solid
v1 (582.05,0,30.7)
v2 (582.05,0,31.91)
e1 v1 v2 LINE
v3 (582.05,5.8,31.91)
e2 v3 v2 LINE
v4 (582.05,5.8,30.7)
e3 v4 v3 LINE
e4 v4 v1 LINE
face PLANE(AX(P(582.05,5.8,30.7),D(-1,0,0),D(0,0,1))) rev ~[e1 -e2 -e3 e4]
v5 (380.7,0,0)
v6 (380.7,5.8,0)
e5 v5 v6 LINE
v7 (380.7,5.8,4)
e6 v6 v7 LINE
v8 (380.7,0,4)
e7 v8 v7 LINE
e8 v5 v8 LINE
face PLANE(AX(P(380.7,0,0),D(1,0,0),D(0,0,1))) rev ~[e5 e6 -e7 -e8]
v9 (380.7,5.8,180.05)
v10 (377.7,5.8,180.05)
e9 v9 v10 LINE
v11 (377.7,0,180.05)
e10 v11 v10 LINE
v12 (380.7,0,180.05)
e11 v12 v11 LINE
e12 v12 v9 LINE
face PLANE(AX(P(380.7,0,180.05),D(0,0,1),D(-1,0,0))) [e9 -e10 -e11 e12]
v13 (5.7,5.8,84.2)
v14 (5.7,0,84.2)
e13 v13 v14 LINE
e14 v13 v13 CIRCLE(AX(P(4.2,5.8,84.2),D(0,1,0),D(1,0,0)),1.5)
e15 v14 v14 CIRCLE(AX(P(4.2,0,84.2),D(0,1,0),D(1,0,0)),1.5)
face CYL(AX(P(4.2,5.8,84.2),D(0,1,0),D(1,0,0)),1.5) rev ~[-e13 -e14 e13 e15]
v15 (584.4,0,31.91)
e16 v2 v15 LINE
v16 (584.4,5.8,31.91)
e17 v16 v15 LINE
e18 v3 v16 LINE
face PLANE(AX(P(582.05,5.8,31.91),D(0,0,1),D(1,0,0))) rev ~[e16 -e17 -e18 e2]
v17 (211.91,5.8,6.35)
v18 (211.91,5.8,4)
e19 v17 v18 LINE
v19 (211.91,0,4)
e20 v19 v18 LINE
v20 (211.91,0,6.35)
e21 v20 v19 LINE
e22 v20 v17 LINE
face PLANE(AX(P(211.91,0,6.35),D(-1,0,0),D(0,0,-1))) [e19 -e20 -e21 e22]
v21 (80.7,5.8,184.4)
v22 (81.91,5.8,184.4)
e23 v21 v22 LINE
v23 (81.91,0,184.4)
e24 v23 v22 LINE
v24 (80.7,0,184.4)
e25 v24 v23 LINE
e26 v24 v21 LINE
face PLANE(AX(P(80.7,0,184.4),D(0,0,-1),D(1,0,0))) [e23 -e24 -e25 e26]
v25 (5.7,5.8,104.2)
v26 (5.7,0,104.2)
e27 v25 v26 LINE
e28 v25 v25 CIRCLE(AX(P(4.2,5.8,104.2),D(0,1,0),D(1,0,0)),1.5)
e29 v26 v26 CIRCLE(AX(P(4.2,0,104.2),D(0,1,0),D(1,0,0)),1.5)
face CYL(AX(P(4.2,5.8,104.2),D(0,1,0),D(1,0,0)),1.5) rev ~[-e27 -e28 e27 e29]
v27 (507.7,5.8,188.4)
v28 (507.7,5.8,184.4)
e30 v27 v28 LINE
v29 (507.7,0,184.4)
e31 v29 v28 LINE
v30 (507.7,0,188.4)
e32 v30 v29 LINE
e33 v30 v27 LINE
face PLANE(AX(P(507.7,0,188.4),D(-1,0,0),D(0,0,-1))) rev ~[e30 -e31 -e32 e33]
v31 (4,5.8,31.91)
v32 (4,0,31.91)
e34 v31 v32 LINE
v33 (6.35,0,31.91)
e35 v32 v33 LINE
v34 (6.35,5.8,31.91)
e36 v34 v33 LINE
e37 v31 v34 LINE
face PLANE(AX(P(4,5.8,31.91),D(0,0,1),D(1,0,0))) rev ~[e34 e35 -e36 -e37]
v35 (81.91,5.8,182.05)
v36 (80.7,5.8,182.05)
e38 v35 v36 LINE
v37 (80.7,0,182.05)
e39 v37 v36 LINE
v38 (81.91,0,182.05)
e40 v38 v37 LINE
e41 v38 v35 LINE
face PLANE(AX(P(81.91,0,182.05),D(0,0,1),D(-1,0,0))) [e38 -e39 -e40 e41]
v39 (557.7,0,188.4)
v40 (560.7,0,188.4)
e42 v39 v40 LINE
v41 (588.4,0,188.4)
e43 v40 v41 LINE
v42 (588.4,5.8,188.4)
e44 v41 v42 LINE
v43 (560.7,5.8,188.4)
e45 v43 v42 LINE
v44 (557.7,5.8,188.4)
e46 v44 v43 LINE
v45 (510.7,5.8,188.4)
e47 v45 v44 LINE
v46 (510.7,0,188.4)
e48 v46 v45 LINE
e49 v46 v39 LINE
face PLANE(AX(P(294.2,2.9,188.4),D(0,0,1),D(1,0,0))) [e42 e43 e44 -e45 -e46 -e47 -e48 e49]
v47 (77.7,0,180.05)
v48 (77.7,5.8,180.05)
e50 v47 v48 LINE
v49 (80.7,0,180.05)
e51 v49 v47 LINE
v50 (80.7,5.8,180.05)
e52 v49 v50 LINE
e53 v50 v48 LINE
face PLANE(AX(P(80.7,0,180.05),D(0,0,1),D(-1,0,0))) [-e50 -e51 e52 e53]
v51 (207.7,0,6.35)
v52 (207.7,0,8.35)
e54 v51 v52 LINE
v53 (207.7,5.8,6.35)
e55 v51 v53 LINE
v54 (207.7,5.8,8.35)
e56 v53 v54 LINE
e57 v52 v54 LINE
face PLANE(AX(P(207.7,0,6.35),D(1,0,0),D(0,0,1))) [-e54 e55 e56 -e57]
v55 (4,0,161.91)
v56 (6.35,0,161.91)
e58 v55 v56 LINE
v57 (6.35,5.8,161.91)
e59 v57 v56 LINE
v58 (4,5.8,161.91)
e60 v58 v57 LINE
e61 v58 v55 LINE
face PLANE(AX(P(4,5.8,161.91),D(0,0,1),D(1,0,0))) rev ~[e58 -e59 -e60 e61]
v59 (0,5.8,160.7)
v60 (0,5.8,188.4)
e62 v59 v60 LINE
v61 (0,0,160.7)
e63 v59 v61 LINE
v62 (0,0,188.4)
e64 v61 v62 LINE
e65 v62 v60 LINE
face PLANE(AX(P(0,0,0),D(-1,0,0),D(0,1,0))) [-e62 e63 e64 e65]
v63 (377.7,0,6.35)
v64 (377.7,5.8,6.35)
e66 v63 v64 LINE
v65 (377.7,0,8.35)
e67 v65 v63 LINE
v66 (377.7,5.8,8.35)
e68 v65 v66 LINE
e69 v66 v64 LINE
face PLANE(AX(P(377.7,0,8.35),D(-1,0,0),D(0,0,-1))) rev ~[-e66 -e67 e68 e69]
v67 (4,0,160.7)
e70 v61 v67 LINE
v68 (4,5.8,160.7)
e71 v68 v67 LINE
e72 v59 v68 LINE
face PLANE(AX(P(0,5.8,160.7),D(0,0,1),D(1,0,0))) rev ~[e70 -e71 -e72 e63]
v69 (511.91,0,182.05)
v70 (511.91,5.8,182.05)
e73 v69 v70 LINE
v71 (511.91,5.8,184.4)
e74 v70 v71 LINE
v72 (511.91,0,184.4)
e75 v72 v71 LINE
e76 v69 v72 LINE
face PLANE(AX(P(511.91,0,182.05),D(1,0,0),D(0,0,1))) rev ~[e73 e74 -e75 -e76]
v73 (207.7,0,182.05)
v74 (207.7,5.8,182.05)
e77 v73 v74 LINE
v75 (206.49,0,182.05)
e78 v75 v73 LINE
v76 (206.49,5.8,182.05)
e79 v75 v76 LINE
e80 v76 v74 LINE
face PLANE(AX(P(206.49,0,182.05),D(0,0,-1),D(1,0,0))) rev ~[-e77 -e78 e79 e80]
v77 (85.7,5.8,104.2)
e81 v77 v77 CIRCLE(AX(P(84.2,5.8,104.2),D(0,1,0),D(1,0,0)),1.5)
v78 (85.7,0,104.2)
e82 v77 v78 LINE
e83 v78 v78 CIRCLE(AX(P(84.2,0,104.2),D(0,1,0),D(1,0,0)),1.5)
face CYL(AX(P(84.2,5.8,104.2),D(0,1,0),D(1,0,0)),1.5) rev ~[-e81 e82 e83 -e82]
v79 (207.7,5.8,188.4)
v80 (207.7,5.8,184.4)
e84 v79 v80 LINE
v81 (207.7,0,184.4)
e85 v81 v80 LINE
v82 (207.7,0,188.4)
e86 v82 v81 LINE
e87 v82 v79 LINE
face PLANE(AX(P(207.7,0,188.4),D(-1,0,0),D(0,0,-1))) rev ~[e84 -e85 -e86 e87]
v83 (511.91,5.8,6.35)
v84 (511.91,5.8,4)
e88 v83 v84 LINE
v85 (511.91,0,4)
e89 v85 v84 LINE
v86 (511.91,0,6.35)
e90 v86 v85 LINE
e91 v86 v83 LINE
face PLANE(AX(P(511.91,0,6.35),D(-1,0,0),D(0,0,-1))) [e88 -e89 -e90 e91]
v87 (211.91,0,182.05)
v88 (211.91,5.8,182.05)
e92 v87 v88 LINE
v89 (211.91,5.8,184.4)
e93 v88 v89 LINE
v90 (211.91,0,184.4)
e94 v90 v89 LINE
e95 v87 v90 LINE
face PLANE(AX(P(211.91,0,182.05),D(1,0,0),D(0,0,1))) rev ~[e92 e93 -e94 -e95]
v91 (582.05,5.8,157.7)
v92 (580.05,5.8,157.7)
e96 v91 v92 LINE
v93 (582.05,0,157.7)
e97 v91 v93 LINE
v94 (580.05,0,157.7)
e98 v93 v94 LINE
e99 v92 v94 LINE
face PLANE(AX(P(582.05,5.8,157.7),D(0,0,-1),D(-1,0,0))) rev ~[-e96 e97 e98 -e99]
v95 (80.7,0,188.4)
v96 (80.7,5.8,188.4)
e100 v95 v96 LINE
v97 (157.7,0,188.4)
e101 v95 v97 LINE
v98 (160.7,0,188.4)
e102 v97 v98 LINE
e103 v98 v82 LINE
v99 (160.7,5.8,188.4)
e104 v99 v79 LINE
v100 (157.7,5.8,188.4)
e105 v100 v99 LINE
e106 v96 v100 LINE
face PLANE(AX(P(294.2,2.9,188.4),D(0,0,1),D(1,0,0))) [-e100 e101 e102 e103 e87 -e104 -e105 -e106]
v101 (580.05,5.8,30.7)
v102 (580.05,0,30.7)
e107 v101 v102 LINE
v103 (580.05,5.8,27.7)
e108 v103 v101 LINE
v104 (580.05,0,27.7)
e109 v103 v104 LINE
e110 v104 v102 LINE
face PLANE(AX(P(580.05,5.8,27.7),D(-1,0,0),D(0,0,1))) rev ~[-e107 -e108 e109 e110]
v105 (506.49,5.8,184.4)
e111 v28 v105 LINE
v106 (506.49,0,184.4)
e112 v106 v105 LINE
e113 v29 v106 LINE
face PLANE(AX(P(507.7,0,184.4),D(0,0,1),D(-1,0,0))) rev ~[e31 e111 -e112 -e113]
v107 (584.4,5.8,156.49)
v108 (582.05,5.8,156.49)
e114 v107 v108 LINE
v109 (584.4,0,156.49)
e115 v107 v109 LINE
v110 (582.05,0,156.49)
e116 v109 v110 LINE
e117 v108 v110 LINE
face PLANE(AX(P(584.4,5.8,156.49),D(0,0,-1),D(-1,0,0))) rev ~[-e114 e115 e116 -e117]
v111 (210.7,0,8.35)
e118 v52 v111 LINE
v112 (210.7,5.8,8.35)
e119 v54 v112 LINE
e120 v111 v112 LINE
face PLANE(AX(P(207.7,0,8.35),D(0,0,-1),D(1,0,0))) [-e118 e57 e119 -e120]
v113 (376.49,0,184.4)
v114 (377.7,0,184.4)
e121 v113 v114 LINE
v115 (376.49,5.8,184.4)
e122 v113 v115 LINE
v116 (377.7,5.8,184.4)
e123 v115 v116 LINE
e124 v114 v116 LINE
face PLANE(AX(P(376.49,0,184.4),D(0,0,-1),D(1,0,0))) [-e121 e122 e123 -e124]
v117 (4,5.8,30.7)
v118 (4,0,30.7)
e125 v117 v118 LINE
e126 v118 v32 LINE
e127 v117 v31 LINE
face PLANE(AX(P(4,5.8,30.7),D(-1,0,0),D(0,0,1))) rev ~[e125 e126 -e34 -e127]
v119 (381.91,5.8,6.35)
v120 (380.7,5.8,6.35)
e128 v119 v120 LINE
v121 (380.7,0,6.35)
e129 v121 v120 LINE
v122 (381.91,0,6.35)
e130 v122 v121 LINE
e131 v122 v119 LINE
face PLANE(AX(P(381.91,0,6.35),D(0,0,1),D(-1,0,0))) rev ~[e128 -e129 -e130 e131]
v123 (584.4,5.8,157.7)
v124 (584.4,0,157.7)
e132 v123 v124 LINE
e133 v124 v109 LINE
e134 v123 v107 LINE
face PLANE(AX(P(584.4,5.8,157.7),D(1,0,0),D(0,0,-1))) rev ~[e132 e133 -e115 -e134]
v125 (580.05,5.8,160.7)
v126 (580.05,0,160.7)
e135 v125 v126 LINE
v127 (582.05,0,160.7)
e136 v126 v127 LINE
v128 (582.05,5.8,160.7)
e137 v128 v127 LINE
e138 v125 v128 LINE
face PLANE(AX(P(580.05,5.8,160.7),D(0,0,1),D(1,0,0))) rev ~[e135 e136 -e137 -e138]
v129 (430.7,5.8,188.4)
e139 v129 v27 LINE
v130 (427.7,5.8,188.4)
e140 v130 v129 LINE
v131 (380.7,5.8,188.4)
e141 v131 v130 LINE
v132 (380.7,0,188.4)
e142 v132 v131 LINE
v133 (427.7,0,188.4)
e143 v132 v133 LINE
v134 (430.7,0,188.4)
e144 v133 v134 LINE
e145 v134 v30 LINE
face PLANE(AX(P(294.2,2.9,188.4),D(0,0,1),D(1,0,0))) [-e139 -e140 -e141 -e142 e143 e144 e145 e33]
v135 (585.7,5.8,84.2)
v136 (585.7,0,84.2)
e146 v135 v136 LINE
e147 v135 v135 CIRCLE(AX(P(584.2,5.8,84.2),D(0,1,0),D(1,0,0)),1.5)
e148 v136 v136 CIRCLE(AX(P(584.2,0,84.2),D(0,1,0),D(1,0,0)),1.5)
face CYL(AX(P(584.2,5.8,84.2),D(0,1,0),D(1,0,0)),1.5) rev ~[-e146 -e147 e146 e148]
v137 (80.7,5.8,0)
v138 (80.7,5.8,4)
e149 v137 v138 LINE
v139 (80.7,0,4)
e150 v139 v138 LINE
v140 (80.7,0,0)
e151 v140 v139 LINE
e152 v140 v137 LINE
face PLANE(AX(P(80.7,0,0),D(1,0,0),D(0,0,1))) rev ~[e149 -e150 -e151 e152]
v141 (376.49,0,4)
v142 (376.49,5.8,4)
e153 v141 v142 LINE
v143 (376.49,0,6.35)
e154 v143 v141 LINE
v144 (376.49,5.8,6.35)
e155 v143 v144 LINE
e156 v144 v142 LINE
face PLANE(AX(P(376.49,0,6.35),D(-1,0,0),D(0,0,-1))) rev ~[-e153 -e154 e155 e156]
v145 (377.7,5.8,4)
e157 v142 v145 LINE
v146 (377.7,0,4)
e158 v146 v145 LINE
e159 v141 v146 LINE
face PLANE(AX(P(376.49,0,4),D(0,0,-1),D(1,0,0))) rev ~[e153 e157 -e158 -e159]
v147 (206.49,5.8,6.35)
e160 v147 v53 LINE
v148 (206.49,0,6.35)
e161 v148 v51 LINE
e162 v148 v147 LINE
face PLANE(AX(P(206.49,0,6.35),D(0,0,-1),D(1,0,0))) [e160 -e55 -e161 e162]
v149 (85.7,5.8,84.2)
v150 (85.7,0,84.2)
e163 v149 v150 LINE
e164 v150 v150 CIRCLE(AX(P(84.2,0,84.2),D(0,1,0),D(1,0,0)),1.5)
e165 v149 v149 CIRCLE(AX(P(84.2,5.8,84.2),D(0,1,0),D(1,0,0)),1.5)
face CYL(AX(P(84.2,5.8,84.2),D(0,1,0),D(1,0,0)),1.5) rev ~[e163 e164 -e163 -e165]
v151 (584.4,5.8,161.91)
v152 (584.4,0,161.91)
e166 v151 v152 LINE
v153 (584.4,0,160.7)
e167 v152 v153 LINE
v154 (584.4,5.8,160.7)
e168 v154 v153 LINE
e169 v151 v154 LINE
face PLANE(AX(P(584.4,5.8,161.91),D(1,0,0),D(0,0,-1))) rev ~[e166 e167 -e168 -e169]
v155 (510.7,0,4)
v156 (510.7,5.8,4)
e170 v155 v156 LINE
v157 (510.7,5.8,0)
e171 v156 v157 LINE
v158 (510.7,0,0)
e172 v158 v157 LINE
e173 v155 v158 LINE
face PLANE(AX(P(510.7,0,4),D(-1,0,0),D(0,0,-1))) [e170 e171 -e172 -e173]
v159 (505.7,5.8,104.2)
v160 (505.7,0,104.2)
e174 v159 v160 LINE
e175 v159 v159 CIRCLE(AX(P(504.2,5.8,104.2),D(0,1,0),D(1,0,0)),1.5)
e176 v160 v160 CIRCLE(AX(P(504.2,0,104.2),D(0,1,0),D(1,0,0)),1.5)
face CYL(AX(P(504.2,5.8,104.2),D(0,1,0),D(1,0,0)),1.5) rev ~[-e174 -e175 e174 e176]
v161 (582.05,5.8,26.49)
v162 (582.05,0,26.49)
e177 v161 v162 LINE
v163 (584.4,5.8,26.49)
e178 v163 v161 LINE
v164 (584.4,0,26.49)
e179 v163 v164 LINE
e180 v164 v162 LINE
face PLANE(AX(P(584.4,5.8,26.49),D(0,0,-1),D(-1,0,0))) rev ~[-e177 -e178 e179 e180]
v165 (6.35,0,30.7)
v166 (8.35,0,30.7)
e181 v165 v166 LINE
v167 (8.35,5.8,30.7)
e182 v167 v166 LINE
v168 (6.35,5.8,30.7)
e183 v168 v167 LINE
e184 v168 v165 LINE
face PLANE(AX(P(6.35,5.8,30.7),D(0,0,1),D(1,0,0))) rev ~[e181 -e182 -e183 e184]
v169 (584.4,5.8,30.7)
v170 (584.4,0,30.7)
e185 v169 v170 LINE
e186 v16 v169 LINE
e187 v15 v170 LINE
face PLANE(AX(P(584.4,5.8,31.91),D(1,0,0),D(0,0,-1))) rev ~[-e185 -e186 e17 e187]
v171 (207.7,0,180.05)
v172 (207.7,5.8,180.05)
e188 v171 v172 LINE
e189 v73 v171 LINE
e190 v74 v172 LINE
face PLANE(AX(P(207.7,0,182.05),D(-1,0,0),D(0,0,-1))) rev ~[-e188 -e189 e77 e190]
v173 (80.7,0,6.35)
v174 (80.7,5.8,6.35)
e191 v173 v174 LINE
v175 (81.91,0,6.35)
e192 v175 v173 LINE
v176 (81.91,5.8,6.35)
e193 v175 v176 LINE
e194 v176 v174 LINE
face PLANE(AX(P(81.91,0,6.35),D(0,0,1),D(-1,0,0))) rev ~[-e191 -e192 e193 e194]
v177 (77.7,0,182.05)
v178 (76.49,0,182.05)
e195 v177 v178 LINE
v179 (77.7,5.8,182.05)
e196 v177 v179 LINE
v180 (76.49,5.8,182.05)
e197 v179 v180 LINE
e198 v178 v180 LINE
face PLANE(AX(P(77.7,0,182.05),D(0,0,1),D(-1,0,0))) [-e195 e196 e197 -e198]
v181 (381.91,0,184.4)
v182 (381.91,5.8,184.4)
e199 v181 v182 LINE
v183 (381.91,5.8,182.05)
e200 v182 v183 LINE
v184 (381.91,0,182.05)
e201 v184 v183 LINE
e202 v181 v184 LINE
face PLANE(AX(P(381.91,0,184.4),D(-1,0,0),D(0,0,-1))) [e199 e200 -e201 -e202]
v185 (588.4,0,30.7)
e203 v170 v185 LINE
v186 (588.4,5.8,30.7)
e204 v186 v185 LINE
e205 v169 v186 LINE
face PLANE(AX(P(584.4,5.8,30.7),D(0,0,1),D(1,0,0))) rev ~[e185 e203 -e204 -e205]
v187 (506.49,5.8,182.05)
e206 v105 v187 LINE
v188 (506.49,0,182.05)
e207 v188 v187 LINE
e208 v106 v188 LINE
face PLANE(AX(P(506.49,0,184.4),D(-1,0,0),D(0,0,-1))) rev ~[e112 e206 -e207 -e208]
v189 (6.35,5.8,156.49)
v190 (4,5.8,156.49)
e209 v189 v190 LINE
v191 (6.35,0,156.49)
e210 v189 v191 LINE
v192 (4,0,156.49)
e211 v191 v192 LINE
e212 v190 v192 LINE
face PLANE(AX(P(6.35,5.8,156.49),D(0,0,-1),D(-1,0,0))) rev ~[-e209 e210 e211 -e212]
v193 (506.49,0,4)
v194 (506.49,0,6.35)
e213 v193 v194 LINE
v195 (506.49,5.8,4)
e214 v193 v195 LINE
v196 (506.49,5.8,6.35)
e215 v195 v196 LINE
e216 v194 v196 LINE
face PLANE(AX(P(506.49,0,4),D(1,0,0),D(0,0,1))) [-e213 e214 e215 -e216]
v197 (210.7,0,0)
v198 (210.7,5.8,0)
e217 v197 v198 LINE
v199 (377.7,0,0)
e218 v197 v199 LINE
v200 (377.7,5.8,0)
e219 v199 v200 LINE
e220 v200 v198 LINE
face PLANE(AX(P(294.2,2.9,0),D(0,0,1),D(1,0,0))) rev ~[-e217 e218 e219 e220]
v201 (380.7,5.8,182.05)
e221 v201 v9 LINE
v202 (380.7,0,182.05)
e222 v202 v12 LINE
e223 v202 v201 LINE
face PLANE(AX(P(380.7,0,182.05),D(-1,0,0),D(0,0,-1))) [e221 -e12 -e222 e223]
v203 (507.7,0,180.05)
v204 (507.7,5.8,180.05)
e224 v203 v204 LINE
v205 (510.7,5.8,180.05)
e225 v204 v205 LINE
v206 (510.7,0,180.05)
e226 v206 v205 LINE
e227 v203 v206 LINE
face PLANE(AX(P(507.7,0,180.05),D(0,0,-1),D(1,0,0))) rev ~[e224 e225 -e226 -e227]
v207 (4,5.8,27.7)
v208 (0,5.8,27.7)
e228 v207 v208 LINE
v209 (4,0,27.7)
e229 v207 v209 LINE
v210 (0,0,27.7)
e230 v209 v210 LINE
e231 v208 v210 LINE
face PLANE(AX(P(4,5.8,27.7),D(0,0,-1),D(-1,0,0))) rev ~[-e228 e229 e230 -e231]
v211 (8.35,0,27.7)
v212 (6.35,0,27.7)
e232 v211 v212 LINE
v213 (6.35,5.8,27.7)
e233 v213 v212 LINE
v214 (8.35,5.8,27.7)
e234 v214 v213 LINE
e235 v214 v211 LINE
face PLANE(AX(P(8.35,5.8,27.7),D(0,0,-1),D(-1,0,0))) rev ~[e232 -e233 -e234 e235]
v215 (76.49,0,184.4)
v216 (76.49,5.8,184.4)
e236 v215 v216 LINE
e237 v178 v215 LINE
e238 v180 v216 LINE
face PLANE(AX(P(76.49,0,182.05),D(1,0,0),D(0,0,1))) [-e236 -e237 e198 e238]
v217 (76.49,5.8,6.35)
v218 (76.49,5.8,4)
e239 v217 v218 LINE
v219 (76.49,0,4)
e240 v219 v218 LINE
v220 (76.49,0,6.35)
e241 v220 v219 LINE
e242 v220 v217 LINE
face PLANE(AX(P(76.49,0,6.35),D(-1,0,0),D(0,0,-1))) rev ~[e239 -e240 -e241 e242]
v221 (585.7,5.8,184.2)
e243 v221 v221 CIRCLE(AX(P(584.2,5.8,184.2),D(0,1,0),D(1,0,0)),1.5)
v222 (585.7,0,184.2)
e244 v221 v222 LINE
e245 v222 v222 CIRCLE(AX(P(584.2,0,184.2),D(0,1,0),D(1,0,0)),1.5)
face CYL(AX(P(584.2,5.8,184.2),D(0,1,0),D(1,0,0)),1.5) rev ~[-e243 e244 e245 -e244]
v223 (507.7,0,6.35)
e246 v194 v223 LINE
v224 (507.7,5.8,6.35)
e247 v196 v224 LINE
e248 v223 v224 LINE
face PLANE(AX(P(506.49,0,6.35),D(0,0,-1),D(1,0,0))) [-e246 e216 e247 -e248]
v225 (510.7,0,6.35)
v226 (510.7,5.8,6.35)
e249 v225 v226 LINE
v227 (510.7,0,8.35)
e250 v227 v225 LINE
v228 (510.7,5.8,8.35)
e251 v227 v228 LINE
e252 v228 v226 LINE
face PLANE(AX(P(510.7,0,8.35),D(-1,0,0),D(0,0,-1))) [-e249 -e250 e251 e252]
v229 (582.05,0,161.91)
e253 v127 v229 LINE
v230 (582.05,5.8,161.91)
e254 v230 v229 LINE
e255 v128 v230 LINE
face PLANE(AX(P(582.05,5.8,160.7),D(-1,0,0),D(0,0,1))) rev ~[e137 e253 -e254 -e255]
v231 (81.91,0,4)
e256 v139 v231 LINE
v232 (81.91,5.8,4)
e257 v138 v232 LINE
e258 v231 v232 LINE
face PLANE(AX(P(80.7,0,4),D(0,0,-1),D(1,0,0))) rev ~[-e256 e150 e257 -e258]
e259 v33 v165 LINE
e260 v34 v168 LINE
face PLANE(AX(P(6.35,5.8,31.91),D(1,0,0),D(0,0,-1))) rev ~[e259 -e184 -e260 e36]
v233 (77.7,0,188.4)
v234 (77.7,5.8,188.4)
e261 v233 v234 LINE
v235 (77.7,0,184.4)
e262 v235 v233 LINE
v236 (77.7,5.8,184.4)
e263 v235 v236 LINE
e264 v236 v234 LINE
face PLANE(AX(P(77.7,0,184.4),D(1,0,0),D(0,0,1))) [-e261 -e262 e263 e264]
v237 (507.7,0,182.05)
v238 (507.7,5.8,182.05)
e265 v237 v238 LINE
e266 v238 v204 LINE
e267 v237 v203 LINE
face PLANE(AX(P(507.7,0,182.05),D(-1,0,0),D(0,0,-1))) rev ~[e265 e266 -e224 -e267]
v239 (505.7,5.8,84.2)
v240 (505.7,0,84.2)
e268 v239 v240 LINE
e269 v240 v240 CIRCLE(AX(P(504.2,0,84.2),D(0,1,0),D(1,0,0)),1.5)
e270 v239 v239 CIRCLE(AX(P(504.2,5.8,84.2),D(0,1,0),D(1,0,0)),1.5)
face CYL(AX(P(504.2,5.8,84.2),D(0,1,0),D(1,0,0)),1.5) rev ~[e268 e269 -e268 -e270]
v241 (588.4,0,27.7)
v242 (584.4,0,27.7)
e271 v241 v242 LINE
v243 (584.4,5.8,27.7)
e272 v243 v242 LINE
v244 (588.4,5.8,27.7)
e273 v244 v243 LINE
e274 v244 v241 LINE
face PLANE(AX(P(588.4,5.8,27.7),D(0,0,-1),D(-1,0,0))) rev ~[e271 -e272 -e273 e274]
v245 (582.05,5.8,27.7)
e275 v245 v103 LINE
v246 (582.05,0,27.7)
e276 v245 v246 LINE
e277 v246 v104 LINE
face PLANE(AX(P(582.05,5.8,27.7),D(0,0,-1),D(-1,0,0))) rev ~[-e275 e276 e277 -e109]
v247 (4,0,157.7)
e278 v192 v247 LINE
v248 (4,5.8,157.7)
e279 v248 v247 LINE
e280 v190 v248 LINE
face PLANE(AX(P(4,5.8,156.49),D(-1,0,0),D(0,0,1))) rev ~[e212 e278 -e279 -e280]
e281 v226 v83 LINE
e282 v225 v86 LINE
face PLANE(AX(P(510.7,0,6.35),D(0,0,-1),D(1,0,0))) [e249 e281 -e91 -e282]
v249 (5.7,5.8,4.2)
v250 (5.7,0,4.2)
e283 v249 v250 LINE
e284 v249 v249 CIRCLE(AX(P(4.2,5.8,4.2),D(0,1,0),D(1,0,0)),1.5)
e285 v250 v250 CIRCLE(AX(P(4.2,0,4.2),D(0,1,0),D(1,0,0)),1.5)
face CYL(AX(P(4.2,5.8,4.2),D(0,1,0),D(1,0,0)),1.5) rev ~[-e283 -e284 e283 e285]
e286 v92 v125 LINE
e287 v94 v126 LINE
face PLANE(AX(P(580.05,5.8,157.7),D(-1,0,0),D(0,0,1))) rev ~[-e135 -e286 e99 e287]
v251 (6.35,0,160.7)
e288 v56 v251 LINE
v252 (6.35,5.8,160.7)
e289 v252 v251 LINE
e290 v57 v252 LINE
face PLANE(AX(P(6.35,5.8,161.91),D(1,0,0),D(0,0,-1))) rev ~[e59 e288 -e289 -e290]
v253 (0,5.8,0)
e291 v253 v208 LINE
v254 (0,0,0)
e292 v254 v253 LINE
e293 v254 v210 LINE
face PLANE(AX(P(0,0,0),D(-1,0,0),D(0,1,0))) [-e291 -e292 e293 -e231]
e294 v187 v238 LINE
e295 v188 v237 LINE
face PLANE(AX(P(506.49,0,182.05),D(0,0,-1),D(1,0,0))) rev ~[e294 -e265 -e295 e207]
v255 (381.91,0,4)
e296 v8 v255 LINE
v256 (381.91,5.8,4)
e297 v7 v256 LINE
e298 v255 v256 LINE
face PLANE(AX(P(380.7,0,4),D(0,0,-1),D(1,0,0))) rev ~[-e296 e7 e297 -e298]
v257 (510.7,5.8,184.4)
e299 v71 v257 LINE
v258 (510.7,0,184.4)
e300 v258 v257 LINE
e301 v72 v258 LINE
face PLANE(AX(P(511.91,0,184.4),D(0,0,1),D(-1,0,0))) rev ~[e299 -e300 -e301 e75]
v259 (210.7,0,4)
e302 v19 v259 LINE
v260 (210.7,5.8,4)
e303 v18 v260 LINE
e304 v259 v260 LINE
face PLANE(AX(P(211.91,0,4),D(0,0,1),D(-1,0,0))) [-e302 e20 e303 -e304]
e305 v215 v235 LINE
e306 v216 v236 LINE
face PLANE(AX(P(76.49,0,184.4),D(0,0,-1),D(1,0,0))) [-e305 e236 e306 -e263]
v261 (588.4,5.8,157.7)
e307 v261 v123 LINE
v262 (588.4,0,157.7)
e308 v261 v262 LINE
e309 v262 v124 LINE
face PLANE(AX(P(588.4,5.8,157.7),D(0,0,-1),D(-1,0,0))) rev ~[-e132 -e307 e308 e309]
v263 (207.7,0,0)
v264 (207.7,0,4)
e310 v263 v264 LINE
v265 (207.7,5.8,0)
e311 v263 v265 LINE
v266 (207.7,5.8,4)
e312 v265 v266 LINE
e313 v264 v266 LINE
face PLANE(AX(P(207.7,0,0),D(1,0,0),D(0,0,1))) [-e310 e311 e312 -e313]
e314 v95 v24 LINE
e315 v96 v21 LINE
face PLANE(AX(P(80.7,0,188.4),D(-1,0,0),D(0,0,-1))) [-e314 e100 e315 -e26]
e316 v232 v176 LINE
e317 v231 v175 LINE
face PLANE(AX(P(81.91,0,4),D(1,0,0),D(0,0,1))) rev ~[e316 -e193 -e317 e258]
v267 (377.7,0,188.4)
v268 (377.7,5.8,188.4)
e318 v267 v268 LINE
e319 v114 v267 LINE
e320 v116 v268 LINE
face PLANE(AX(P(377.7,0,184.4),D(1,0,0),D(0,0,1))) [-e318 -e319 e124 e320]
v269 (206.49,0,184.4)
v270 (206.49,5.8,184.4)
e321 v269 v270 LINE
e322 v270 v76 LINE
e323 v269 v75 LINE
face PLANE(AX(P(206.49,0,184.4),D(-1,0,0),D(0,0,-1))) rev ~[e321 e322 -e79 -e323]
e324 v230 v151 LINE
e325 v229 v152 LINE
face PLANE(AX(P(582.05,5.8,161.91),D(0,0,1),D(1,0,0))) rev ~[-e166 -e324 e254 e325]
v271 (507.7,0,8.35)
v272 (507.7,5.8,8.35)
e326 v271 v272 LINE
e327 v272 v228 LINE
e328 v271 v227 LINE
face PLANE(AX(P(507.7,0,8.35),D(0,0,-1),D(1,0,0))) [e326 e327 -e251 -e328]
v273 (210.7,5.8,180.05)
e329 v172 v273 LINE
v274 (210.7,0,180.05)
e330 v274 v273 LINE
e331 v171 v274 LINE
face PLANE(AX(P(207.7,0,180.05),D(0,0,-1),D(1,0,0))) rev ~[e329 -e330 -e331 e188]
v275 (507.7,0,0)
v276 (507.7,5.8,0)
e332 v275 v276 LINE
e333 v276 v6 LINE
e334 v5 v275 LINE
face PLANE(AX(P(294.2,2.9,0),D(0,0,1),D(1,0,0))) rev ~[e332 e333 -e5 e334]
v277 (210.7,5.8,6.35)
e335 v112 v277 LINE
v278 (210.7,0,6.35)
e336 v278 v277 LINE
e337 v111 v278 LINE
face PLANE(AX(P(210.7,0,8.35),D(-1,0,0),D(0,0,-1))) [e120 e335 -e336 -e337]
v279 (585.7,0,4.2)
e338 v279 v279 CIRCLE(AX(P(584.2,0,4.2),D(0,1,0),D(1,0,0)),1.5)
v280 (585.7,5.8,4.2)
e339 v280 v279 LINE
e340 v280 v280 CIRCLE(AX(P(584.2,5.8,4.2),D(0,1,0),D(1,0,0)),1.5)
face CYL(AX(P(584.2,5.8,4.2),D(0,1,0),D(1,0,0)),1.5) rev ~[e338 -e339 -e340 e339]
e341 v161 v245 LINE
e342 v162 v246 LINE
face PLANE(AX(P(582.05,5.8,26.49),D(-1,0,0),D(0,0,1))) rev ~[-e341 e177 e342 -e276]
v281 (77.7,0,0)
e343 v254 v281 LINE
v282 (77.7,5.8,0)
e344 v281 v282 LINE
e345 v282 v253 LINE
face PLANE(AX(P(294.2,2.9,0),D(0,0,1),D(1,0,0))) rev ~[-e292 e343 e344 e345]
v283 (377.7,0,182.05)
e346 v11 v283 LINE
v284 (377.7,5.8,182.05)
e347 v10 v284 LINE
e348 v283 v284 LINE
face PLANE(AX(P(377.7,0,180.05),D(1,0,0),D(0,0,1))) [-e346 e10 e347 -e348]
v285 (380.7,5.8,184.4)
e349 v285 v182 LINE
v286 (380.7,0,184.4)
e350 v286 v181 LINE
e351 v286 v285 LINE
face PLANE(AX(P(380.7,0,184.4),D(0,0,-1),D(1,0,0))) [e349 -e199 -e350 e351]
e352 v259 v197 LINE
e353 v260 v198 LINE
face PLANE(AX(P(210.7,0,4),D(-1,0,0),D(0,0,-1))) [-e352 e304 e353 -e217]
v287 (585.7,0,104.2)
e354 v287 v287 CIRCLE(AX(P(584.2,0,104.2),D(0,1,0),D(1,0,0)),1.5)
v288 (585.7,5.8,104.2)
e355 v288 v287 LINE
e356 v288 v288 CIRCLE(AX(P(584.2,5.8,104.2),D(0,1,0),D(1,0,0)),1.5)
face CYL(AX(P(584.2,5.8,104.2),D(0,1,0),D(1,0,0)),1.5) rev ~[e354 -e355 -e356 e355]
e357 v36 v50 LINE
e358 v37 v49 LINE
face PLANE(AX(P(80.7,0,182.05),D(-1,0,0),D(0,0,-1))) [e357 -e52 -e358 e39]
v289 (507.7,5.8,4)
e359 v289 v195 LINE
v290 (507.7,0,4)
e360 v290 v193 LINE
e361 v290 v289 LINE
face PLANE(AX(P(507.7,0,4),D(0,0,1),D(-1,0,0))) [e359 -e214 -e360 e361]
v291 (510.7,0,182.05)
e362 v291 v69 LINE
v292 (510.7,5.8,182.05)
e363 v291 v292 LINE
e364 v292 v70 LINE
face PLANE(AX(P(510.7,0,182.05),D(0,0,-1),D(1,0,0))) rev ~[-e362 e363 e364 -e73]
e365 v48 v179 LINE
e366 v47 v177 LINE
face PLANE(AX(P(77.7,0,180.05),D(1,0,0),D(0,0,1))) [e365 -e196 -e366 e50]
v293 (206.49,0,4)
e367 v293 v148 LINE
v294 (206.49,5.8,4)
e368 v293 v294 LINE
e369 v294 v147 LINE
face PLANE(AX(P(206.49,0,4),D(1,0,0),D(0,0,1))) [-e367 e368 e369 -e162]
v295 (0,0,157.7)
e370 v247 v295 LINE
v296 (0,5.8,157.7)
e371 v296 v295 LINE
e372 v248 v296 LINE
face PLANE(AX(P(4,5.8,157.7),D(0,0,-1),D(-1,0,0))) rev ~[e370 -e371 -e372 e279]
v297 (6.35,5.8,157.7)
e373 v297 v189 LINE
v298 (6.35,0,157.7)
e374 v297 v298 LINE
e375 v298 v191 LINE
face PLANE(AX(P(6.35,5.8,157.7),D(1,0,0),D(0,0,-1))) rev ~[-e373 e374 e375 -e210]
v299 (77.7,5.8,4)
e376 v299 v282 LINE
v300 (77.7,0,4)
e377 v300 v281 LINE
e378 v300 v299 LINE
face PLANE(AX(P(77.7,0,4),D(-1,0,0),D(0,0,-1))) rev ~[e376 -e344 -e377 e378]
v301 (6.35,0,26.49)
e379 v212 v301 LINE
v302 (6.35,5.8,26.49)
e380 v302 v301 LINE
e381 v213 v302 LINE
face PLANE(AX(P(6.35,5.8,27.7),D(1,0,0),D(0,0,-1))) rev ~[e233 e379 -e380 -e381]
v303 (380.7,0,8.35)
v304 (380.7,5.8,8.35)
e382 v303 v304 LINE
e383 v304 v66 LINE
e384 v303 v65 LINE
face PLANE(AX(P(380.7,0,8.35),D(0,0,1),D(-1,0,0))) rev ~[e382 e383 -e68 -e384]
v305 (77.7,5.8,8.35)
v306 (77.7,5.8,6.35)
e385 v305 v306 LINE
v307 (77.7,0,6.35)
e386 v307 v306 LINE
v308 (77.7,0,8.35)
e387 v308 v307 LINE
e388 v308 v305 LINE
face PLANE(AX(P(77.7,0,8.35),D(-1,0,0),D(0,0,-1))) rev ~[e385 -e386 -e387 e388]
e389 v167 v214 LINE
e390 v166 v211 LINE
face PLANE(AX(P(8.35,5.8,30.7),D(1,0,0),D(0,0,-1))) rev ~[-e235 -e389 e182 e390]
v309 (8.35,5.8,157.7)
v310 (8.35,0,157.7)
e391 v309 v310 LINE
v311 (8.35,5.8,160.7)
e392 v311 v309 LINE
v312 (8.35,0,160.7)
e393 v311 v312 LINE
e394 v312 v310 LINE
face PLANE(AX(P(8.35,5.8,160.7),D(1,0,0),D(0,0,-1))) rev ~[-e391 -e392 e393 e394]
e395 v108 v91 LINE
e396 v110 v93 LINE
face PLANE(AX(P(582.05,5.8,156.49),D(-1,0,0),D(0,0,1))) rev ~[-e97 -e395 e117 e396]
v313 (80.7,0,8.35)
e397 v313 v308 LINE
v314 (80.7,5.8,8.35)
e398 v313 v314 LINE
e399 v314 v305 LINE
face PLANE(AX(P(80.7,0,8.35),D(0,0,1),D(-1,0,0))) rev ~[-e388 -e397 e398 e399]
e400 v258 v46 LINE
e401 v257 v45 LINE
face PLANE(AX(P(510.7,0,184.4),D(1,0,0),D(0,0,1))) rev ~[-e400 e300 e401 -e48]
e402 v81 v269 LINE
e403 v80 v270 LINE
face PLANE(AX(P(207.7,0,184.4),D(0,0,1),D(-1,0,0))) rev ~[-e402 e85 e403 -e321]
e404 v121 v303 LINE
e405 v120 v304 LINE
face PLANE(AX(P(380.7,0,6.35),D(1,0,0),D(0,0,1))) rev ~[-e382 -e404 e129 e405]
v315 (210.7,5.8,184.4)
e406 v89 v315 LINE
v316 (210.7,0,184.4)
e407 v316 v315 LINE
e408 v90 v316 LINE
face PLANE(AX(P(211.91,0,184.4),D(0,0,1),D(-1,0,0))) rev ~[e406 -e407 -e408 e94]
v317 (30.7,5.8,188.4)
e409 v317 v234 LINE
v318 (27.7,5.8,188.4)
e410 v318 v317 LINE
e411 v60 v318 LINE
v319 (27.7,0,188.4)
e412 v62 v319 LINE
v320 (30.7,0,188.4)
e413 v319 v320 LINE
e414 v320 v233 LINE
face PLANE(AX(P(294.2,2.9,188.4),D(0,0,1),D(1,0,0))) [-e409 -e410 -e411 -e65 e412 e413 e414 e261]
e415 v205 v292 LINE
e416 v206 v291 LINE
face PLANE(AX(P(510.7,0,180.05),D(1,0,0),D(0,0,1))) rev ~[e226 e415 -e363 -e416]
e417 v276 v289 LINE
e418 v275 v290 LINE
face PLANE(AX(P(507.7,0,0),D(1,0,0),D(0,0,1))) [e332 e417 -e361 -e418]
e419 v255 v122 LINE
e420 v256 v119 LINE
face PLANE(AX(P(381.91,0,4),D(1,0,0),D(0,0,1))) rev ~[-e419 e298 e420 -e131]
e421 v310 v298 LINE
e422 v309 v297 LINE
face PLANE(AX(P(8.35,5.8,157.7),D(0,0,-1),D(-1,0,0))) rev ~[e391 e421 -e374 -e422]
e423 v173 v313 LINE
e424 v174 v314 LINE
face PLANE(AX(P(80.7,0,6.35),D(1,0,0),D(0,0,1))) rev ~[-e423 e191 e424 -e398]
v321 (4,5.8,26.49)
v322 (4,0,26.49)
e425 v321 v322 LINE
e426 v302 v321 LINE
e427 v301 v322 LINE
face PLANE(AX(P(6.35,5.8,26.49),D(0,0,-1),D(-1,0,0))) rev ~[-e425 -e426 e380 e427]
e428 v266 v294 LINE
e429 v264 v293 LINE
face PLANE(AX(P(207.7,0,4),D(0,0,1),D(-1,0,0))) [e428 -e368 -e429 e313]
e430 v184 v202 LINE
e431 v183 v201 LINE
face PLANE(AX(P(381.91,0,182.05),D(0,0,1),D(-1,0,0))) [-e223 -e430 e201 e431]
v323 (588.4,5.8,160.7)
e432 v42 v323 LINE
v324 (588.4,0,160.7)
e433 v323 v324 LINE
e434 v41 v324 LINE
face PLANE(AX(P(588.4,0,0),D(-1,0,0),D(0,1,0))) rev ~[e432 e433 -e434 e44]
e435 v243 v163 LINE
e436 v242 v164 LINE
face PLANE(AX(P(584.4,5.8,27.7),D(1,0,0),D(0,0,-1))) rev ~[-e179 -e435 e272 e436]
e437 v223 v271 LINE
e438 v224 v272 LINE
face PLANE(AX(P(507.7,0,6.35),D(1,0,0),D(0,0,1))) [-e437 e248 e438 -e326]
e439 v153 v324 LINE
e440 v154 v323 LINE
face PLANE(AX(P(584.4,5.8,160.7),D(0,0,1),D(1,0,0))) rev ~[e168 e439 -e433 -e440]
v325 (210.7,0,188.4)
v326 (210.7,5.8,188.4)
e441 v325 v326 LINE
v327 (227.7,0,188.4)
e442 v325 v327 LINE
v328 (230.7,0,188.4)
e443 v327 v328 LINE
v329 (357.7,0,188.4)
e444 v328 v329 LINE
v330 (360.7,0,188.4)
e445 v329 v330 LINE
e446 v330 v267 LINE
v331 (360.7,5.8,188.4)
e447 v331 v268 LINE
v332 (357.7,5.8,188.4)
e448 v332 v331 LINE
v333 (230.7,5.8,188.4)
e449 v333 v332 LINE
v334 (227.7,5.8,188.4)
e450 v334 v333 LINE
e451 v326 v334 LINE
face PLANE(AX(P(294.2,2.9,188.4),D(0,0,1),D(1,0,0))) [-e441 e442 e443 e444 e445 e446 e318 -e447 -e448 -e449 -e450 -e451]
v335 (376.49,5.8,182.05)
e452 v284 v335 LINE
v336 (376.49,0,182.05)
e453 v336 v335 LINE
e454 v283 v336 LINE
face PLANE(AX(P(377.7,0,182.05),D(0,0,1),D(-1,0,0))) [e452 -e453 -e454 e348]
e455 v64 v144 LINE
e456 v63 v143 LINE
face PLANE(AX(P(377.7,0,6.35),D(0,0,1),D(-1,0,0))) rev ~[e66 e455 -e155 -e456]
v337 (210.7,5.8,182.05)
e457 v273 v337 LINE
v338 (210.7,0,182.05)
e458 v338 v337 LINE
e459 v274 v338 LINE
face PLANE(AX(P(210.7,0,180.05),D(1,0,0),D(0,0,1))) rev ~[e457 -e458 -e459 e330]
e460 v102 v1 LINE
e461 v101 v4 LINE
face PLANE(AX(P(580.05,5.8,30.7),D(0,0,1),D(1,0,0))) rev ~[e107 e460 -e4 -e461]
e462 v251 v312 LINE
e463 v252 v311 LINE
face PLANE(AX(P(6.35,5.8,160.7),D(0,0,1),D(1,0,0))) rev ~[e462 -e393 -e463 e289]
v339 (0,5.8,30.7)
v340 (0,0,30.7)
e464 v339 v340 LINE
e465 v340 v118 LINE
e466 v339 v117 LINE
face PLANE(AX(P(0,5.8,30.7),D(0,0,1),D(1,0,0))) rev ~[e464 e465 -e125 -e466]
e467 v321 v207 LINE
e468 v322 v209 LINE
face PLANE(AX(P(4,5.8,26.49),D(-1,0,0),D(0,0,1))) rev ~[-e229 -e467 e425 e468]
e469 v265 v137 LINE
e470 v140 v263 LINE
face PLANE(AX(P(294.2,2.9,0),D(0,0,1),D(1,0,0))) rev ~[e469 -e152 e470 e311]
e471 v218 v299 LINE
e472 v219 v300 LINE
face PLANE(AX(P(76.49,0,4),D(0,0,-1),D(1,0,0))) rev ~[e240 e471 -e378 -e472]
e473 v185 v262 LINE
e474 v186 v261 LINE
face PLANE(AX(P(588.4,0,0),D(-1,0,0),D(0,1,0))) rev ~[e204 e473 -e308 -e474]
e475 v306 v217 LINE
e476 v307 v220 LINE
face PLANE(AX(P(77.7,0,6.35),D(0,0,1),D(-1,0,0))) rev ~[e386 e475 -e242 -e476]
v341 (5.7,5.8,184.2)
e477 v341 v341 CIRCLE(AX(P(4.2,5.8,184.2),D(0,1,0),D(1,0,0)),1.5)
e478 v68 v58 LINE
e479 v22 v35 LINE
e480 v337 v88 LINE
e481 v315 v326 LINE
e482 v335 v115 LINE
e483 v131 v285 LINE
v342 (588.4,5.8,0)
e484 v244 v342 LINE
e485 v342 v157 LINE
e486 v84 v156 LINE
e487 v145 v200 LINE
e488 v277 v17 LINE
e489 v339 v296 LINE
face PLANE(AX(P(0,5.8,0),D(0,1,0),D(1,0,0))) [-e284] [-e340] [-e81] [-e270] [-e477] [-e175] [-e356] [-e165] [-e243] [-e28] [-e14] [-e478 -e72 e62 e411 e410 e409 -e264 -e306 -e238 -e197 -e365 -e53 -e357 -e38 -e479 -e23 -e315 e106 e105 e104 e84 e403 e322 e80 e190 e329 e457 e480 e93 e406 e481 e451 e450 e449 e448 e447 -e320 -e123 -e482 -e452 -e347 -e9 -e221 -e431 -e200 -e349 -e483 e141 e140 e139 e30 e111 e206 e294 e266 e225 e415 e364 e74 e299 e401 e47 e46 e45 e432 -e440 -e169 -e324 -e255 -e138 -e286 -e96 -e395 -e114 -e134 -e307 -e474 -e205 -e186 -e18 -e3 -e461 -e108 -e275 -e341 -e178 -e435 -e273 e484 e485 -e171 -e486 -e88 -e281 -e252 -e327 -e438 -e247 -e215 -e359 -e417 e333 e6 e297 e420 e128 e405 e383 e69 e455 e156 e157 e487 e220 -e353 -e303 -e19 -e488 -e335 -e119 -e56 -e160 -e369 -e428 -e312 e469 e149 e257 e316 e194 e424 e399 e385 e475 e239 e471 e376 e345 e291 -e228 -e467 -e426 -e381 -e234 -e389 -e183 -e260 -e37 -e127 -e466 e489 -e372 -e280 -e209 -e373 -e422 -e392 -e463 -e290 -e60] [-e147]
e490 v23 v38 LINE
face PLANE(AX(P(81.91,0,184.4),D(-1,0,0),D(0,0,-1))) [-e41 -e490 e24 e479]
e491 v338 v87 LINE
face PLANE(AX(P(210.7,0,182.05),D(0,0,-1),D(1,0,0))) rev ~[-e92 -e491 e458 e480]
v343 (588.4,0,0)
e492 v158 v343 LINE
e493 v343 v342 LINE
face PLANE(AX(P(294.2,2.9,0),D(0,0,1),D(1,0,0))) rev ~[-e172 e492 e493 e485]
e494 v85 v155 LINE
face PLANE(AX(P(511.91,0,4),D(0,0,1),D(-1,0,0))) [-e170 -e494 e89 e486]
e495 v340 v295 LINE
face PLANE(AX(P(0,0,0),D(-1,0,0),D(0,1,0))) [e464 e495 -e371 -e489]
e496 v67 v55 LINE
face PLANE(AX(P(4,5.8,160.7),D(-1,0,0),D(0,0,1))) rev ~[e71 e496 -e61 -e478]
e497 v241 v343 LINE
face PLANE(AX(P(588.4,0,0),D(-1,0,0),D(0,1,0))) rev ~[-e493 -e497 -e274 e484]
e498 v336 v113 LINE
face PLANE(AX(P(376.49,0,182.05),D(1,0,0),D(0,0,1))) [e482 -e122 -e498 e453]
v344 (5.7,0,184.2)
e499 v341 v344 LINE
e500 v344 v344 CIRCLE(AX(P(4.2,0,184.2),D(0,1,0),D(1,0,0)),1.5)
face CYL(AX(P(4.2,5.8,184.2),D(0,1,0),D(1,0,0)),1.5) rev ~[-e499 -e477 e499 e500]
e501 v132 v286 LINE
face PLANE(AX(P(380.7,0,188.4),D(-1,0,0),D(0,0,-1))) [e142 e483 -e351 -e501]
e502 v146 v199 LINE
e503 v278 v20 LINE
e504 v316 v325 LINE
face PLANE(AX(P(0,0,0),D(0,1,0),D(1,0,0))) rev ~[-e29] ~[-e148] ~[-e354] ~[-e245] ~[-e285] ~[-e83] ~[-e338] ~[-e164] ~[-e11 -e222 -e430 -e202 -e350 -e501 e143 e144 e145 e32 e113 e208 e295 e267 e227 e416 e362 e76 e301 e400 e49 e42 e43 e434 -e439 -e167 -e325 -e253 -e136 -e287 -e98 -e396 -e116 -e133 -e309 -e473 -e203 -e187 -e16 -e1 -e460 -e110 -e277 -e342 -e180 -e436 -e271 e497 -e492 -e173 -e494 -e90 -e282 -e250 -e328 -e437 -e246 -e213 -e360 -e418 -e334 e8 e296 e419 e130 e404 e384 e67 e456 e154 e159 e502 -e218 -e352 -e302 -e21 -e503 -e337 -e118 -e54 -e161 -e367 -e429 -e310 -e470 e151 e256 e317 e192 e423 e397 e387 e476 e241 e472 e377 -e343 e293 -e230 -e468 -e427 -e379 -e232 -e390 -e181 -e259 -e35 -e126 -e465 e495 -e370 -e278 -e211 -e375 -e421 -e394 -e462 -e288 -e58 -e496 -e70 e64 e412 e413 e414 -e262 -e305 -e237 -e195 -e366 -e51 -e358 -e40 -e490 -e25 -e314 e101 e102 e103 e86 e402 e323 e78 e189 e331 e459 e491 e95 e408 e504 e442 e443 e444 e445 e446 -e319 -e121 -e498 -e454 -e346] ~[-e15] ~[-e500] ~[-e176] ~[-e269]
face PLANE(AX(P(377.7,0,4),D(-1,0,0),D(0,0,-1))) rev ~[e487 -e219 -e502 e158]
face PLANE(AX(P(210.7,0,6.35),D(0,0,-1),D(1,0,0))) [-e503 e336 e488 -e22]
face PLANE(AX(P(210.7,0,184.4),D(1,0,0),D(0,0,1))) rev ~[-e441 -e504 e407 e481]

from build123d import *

# Parameters (mm, degrees)
SKETCH1_W           = 588.4
SKETCH1_H           = 5.8
BOSS_EXTRUDE1_DEPTH = 188.4
CUT_EXTRUDE1_DEPTH  = 5.8
CUT_EXTRUDE2_DEPTH  = 5.8
SKETCH5_W           = 588.4
SKETCH5_H           = 10.208859739
SKETCH5_H_2         = 13.85
BOSS_EXTRUDE2_DEPTH = 5.8
CUT_EXTRUDE4_DEPTH  = 5.8
SKETCH8_R           = 1.5
CUT_EXTRUDE6_DEPTH  = 5.8


with BuildPart() as part:
    # Sketch1 → Boss-Extrude1 (new body)
    with BuildSketch(Plane.XY):
        with Locations((294.2, 2.9)):
            Rectangle(SKETCH1_W, SKETCH1_H)
    extrude(amount=BOSS_EXTRUDE1_DEPTH)

    # Sketch2 → Cut-Extrude1 (cut)
    with BuildSketch(Plane(origin=(0, 5.8, 0), x_dir=(1, 0, 0), z_dir=(0, 1, 0))):
        Polygon((27.7, -184.4), (27.7, -188.4), (30.7, -188.4), (30.7, -184.4), (31.91, -184.4), (31.91, -182.05), (30.7, -182.05), (30.7, -180.05), (27.7, -180.05), (27.7, -182.05), (26.49, -182.05), (26.49, -184.4), align=None)
        Polygon((157.7, -184.4), (157.7, -188.4), (160.7, -188.4), (160.7, -184.4), (161.91, -184.4), (161.91, -182.05), (160.7, -182.05), (160.7, -180.05), (157.7, -180.05), (157.7, -182.05), (156.49, -182.05), (156.49, -184.4), align=None)
        Polygon((227.7, -184.4), (227.7, -188.4), (230.7, -188.4), (230.7, -184.4), (231.91, -184.4), (231.91, -182.05), (230.7, -182.05), (230.7, -180.05), (227.7, -180.05), (227.7, -182.05), (226.49, -182.05), (226.49, -184.4), align=None)
        Polygon((357.7, -184.4), (357.7, -188.4), (360.7, -188.4), (360.7, -184.4), (361.91, -184.4), (361.91, -182.05), (360.7, -182.05), (360.7, -180.05), (357.7, -180.05), (357.7, -182.05), (356.49, -182.05), (356.49, -184.4), align=None)
        Polygon((427.7, -184.4), (427.7, -188.4), (430.7, -188.4), (430.7, -184.4), (431.91, -184.4), (431.91, -182.05), (430.7, -182.05), (430.7, -180.05), (427.7, -180.05), (427.7, -182.05), (426.49, -182.05), (426.49, -184.4), align=None)
        Polygon((557.7, -188.4), (560.7, -188.4), (560.7, -184.4), (561.91, -184.4), (561.91, -182.05), (560.7, -182.05), (560.7, -180.05), (557.7, -180.05), (557.7, -182.05), (556.49, -182.05), (556.49, -184.4), (557.7, -184.4), align=None)
        Polygon((560.7, 0), (557.7, 0), (557.7, -4), (556.49, -4), (556.49, -6.35), (557.7, -6.35), (557.7, -8.35), (560.7, -8.35), (560.7, -6.35), (561.91, -6.35), (561.91, -4), (560.7, -4), align=None)
        Polygon((430.7, 0), (427.7, 0), (427.7, -4), (426.49, -4), (426.49, -6.35), (427.7, -6.35), (427.7, -8.35), (430.7, -8.35), (430.7, -6.35), (431.91, -6.35), (431.91, -4), (430.7, -4), align=None)
        Polygon((360.7, 0), (357.7, 0), (357.7, -4), (356.49, -4), (356.49, -6.35), (357.7, -6.35), (357.7, -8.35), (360.7, -8.35), (360.7, -6.35), (361.91, -6.35), (361.91, -4), (360.7, -4), align=None)
        Polygon((230.7, 0), (227.7, 0), (227.7, -4), (226.49, -4), (226.49, -6.35), (227.7, -6.35), (227.7, -8.35), (230.7, -8.35), (230.7, -6.35), (231.91, -6.35), (231.91, -4), (230.7, -4), align=None)
        Polygon((160.7, 0), (157.7, 0), (157.7, -4), (156.49, -4), (156.49, -6.35), (157.7, -6.35), (157.7, -8.35), (160.7, -8.35), (160.7, -6.35), (161.91, -6.35), (161.91, -4), (160.7, -4), align=None)
        Polygon((30.7, -8.35), (30.7, -6.35), (31.91, -6.35), (31.91, -4), (30.7, -4), (30.7, 0), (27.7, 0), (27.7, -4), (26.49, -4), (26.49, -6.35), (27.7, -6.35), (27.7, -8.35), align=None)
    extrude(amount=-CUT_EXTRUDE1_DEPTH, mode=Mode.SUBTRACT)

    # Sketch2<3> → Cut-Extrude2 (cut)
    with BuildSketch(Plane(origin=(0, 5.8, 0), x_dir=(1, 0, 0), z_dir=(0, 1, 0))):
        Polygon((8.35, -27.7), (6.35, -27.7), (6.35, -26.49), (4, -26.49), (4, -27.7), (0, -27.7), (0, -30.7), (4, -30.7), (4, -31.91), (6.35, -31.91), (6.35, -30.7), (8.35, -30.7), align=None)
        Polygon((4, -157.7), (0, -157.7), (0, -160.7), (4, -160.7), (4, -161.91), (6.35, -161.91), (6.35, -160.7), (8.35, -160.7), (8.35, -157.7), (6.35, -157.7), (6.35, -156.49), (4, -156.49), align=None)
        Polygon((580.05, -160.7), (582.05, -160.7), (582.05, -161.91), (584.4, -161.91), (584.4, -160.7), (588.4, -160.7), (588.4, -157.7), (584.4, -157.7), (584.4, -156.49), (582.05, -156.49), (582.05, -157.7), (580.05, -157.7), align=None)
        Polygon((584.4, -30.7), (588.4, -30.7), (588.4, -27.7), (584.4, -27.7), (584.4, -26.49), (582.05, -26.49), (582.05, -27.7), (580.05, -27.7), (580.05, -30.7), (582.05, -30.7), (582.05, -31.91), (584.4, -31.91), align=None)
    extrude(amount=-CUT_EXTRUDE2_DEPTH, mode=Mode.SUBTRACT)

    # Sketch5 → Boss-Extrude2 (add)
    with BuildSketch(Plane.XZ):
        with Locations((294.2, 183.295570131)):
            Rectangle(SKETCH5_W, SKETCH5_H)
        with Locations((294.2, 6.925)):
            Rectangle(SKETCH5_W, SKETCH5_H_2)
    extrude(amount=-BOSS_EXTRUDE2_DEPTH)

    # Sketch6 → Cut-Extrude4 (cut)
    with BuildSketch(Plane.XZ):
        Polygon((77.7, 188.4), (80.7, 188.4), (80.7, 184.4), (81.91, 184.4), (81.91, 182.05), (80.7, 182.05), (80.7, 180.05), (77.7, 180.05), (77.7, 182.05), (76.49, 182.05), (76.49, 184.4), (77.7, 184.4), align=None)
        Polygon((210.7, 180.05), (210.7, 182.05), (211.91, 182.05), (211.91, 184.4), (210.7, 184.4), (210.7, 188.4), (207.7, 188.4), (207.7, 184.4), (206.49, 184.4), (206.49, 182.05), (207.7, 182.05), (207.7, 180.05), align=None)
        Polygon((377.7, 188.4), (380.7, 188.4), (380.7, 184.4), (381.91, 184.4), (381.91, 182.05), (380.7, 182.05), (380.7, 180.05), (377.7, 180.05), (377.7, 182.05), (376.49, 182.05), (376.49, 184.4), (377.7, 184.4), align=None)
        Polygon((510.7, 180.05), (510.7, 182.05), (511.91, 182.05), (511.91, 184.4), (510.7, 184.4), (510.7, 188.4), (507.7, 188.4), (507.7, 184.4), (506.49, 184.4), (506.49, 182.05), (507.7, 182.05), (507.7, 180.05), align=None)
        Polygon((510.7, 0), (507.7, 0), (507.7, 4), (506.49, 4), (506.49, 6.35), (507.7, 6.35), (507.7, 8.35), (510.7, 8.35), (510.7, 6.35), (511.91, 6.35), (511.91, 4), (510.7, 4), align=None)
        Polygon((377.7, 8.35), (377.7, 6.35), (376.49, 6.35), (376.49, 4), (377.7, 4), (377.7, 0), (380.7, 0), (380.7, 4), (381.91, 4), (381.91, 6.35), (380.7, 6.35), (380.7, 8.35), align=None)
        Polygon((210.7, 0), (207.7, 0), (207.7, 4), (206.49, 4), (206.49, 6.35), (207.7, 6.35), (207.7, 8.35), (210.7, 8.35), (210.7, 6.35), (211.91, 6.35), (211.91, 4), (210.7, 4), align=None)
        Polygon((77.7, 8.35), (77.7, 6.35), (76.49, 6.35), (76.49, 4), (77.7, 4), (77.7, 0), (80.7, 0), (80.7, 4), (81.91, 4), (81.91, 6.35), (80.7, 6.35), (80.7, 8.35), align=None)
    extrude(amount=-CUT_EXTRUDE4_DEPTH, mode=Mode.SUBTRACT)

    # Sketch8 → Cut-Extrude6 (cut)
    with BuildSketch(Plane(origin=(0, 5.8, 0), x_dir=(1, 0, 0), z_dir=(0, 1, 0))):
        with Locations((4.2, -4.2)):
            Circle(SKETCH8_R)
        with Locations((4.2, -84.2)):
            Circle(SKETCH8_R)
        with Locations((84.2, -84.2)):
            Circle(SKETCH8_R)
        with Locations((84.2, -104.2)):
            Circle(SKETCH8_R)
        with Locations((4.2, -104.2)):
            Circle(SKETCH8_R)
        with Locations((4.2, -184.2)):
            Circle(SKETCH8_R)
        with Locations((584.2, -184.2)):
            Circle(SKETCH8_R)
        with Locations((584.2, -104.2)):
            Circle(SKETCH8_R)
        with Locations((504.2, -104.2)):
            Circle(SKETCH8_R)
        with Locations((504.2, -84.2)):
            Circle(SKETCH8_R)
        with Locations((584.2, -84.2)):
            Circle(SKETCH8_R)
        with Locations((584.2, -4.2)):
            Circle(SKETCH8_R)
    extrude(amount=-CUT_EXTRUDE6_DEPTH, mode=Mode.SUBTRACT)


solid = part.part
